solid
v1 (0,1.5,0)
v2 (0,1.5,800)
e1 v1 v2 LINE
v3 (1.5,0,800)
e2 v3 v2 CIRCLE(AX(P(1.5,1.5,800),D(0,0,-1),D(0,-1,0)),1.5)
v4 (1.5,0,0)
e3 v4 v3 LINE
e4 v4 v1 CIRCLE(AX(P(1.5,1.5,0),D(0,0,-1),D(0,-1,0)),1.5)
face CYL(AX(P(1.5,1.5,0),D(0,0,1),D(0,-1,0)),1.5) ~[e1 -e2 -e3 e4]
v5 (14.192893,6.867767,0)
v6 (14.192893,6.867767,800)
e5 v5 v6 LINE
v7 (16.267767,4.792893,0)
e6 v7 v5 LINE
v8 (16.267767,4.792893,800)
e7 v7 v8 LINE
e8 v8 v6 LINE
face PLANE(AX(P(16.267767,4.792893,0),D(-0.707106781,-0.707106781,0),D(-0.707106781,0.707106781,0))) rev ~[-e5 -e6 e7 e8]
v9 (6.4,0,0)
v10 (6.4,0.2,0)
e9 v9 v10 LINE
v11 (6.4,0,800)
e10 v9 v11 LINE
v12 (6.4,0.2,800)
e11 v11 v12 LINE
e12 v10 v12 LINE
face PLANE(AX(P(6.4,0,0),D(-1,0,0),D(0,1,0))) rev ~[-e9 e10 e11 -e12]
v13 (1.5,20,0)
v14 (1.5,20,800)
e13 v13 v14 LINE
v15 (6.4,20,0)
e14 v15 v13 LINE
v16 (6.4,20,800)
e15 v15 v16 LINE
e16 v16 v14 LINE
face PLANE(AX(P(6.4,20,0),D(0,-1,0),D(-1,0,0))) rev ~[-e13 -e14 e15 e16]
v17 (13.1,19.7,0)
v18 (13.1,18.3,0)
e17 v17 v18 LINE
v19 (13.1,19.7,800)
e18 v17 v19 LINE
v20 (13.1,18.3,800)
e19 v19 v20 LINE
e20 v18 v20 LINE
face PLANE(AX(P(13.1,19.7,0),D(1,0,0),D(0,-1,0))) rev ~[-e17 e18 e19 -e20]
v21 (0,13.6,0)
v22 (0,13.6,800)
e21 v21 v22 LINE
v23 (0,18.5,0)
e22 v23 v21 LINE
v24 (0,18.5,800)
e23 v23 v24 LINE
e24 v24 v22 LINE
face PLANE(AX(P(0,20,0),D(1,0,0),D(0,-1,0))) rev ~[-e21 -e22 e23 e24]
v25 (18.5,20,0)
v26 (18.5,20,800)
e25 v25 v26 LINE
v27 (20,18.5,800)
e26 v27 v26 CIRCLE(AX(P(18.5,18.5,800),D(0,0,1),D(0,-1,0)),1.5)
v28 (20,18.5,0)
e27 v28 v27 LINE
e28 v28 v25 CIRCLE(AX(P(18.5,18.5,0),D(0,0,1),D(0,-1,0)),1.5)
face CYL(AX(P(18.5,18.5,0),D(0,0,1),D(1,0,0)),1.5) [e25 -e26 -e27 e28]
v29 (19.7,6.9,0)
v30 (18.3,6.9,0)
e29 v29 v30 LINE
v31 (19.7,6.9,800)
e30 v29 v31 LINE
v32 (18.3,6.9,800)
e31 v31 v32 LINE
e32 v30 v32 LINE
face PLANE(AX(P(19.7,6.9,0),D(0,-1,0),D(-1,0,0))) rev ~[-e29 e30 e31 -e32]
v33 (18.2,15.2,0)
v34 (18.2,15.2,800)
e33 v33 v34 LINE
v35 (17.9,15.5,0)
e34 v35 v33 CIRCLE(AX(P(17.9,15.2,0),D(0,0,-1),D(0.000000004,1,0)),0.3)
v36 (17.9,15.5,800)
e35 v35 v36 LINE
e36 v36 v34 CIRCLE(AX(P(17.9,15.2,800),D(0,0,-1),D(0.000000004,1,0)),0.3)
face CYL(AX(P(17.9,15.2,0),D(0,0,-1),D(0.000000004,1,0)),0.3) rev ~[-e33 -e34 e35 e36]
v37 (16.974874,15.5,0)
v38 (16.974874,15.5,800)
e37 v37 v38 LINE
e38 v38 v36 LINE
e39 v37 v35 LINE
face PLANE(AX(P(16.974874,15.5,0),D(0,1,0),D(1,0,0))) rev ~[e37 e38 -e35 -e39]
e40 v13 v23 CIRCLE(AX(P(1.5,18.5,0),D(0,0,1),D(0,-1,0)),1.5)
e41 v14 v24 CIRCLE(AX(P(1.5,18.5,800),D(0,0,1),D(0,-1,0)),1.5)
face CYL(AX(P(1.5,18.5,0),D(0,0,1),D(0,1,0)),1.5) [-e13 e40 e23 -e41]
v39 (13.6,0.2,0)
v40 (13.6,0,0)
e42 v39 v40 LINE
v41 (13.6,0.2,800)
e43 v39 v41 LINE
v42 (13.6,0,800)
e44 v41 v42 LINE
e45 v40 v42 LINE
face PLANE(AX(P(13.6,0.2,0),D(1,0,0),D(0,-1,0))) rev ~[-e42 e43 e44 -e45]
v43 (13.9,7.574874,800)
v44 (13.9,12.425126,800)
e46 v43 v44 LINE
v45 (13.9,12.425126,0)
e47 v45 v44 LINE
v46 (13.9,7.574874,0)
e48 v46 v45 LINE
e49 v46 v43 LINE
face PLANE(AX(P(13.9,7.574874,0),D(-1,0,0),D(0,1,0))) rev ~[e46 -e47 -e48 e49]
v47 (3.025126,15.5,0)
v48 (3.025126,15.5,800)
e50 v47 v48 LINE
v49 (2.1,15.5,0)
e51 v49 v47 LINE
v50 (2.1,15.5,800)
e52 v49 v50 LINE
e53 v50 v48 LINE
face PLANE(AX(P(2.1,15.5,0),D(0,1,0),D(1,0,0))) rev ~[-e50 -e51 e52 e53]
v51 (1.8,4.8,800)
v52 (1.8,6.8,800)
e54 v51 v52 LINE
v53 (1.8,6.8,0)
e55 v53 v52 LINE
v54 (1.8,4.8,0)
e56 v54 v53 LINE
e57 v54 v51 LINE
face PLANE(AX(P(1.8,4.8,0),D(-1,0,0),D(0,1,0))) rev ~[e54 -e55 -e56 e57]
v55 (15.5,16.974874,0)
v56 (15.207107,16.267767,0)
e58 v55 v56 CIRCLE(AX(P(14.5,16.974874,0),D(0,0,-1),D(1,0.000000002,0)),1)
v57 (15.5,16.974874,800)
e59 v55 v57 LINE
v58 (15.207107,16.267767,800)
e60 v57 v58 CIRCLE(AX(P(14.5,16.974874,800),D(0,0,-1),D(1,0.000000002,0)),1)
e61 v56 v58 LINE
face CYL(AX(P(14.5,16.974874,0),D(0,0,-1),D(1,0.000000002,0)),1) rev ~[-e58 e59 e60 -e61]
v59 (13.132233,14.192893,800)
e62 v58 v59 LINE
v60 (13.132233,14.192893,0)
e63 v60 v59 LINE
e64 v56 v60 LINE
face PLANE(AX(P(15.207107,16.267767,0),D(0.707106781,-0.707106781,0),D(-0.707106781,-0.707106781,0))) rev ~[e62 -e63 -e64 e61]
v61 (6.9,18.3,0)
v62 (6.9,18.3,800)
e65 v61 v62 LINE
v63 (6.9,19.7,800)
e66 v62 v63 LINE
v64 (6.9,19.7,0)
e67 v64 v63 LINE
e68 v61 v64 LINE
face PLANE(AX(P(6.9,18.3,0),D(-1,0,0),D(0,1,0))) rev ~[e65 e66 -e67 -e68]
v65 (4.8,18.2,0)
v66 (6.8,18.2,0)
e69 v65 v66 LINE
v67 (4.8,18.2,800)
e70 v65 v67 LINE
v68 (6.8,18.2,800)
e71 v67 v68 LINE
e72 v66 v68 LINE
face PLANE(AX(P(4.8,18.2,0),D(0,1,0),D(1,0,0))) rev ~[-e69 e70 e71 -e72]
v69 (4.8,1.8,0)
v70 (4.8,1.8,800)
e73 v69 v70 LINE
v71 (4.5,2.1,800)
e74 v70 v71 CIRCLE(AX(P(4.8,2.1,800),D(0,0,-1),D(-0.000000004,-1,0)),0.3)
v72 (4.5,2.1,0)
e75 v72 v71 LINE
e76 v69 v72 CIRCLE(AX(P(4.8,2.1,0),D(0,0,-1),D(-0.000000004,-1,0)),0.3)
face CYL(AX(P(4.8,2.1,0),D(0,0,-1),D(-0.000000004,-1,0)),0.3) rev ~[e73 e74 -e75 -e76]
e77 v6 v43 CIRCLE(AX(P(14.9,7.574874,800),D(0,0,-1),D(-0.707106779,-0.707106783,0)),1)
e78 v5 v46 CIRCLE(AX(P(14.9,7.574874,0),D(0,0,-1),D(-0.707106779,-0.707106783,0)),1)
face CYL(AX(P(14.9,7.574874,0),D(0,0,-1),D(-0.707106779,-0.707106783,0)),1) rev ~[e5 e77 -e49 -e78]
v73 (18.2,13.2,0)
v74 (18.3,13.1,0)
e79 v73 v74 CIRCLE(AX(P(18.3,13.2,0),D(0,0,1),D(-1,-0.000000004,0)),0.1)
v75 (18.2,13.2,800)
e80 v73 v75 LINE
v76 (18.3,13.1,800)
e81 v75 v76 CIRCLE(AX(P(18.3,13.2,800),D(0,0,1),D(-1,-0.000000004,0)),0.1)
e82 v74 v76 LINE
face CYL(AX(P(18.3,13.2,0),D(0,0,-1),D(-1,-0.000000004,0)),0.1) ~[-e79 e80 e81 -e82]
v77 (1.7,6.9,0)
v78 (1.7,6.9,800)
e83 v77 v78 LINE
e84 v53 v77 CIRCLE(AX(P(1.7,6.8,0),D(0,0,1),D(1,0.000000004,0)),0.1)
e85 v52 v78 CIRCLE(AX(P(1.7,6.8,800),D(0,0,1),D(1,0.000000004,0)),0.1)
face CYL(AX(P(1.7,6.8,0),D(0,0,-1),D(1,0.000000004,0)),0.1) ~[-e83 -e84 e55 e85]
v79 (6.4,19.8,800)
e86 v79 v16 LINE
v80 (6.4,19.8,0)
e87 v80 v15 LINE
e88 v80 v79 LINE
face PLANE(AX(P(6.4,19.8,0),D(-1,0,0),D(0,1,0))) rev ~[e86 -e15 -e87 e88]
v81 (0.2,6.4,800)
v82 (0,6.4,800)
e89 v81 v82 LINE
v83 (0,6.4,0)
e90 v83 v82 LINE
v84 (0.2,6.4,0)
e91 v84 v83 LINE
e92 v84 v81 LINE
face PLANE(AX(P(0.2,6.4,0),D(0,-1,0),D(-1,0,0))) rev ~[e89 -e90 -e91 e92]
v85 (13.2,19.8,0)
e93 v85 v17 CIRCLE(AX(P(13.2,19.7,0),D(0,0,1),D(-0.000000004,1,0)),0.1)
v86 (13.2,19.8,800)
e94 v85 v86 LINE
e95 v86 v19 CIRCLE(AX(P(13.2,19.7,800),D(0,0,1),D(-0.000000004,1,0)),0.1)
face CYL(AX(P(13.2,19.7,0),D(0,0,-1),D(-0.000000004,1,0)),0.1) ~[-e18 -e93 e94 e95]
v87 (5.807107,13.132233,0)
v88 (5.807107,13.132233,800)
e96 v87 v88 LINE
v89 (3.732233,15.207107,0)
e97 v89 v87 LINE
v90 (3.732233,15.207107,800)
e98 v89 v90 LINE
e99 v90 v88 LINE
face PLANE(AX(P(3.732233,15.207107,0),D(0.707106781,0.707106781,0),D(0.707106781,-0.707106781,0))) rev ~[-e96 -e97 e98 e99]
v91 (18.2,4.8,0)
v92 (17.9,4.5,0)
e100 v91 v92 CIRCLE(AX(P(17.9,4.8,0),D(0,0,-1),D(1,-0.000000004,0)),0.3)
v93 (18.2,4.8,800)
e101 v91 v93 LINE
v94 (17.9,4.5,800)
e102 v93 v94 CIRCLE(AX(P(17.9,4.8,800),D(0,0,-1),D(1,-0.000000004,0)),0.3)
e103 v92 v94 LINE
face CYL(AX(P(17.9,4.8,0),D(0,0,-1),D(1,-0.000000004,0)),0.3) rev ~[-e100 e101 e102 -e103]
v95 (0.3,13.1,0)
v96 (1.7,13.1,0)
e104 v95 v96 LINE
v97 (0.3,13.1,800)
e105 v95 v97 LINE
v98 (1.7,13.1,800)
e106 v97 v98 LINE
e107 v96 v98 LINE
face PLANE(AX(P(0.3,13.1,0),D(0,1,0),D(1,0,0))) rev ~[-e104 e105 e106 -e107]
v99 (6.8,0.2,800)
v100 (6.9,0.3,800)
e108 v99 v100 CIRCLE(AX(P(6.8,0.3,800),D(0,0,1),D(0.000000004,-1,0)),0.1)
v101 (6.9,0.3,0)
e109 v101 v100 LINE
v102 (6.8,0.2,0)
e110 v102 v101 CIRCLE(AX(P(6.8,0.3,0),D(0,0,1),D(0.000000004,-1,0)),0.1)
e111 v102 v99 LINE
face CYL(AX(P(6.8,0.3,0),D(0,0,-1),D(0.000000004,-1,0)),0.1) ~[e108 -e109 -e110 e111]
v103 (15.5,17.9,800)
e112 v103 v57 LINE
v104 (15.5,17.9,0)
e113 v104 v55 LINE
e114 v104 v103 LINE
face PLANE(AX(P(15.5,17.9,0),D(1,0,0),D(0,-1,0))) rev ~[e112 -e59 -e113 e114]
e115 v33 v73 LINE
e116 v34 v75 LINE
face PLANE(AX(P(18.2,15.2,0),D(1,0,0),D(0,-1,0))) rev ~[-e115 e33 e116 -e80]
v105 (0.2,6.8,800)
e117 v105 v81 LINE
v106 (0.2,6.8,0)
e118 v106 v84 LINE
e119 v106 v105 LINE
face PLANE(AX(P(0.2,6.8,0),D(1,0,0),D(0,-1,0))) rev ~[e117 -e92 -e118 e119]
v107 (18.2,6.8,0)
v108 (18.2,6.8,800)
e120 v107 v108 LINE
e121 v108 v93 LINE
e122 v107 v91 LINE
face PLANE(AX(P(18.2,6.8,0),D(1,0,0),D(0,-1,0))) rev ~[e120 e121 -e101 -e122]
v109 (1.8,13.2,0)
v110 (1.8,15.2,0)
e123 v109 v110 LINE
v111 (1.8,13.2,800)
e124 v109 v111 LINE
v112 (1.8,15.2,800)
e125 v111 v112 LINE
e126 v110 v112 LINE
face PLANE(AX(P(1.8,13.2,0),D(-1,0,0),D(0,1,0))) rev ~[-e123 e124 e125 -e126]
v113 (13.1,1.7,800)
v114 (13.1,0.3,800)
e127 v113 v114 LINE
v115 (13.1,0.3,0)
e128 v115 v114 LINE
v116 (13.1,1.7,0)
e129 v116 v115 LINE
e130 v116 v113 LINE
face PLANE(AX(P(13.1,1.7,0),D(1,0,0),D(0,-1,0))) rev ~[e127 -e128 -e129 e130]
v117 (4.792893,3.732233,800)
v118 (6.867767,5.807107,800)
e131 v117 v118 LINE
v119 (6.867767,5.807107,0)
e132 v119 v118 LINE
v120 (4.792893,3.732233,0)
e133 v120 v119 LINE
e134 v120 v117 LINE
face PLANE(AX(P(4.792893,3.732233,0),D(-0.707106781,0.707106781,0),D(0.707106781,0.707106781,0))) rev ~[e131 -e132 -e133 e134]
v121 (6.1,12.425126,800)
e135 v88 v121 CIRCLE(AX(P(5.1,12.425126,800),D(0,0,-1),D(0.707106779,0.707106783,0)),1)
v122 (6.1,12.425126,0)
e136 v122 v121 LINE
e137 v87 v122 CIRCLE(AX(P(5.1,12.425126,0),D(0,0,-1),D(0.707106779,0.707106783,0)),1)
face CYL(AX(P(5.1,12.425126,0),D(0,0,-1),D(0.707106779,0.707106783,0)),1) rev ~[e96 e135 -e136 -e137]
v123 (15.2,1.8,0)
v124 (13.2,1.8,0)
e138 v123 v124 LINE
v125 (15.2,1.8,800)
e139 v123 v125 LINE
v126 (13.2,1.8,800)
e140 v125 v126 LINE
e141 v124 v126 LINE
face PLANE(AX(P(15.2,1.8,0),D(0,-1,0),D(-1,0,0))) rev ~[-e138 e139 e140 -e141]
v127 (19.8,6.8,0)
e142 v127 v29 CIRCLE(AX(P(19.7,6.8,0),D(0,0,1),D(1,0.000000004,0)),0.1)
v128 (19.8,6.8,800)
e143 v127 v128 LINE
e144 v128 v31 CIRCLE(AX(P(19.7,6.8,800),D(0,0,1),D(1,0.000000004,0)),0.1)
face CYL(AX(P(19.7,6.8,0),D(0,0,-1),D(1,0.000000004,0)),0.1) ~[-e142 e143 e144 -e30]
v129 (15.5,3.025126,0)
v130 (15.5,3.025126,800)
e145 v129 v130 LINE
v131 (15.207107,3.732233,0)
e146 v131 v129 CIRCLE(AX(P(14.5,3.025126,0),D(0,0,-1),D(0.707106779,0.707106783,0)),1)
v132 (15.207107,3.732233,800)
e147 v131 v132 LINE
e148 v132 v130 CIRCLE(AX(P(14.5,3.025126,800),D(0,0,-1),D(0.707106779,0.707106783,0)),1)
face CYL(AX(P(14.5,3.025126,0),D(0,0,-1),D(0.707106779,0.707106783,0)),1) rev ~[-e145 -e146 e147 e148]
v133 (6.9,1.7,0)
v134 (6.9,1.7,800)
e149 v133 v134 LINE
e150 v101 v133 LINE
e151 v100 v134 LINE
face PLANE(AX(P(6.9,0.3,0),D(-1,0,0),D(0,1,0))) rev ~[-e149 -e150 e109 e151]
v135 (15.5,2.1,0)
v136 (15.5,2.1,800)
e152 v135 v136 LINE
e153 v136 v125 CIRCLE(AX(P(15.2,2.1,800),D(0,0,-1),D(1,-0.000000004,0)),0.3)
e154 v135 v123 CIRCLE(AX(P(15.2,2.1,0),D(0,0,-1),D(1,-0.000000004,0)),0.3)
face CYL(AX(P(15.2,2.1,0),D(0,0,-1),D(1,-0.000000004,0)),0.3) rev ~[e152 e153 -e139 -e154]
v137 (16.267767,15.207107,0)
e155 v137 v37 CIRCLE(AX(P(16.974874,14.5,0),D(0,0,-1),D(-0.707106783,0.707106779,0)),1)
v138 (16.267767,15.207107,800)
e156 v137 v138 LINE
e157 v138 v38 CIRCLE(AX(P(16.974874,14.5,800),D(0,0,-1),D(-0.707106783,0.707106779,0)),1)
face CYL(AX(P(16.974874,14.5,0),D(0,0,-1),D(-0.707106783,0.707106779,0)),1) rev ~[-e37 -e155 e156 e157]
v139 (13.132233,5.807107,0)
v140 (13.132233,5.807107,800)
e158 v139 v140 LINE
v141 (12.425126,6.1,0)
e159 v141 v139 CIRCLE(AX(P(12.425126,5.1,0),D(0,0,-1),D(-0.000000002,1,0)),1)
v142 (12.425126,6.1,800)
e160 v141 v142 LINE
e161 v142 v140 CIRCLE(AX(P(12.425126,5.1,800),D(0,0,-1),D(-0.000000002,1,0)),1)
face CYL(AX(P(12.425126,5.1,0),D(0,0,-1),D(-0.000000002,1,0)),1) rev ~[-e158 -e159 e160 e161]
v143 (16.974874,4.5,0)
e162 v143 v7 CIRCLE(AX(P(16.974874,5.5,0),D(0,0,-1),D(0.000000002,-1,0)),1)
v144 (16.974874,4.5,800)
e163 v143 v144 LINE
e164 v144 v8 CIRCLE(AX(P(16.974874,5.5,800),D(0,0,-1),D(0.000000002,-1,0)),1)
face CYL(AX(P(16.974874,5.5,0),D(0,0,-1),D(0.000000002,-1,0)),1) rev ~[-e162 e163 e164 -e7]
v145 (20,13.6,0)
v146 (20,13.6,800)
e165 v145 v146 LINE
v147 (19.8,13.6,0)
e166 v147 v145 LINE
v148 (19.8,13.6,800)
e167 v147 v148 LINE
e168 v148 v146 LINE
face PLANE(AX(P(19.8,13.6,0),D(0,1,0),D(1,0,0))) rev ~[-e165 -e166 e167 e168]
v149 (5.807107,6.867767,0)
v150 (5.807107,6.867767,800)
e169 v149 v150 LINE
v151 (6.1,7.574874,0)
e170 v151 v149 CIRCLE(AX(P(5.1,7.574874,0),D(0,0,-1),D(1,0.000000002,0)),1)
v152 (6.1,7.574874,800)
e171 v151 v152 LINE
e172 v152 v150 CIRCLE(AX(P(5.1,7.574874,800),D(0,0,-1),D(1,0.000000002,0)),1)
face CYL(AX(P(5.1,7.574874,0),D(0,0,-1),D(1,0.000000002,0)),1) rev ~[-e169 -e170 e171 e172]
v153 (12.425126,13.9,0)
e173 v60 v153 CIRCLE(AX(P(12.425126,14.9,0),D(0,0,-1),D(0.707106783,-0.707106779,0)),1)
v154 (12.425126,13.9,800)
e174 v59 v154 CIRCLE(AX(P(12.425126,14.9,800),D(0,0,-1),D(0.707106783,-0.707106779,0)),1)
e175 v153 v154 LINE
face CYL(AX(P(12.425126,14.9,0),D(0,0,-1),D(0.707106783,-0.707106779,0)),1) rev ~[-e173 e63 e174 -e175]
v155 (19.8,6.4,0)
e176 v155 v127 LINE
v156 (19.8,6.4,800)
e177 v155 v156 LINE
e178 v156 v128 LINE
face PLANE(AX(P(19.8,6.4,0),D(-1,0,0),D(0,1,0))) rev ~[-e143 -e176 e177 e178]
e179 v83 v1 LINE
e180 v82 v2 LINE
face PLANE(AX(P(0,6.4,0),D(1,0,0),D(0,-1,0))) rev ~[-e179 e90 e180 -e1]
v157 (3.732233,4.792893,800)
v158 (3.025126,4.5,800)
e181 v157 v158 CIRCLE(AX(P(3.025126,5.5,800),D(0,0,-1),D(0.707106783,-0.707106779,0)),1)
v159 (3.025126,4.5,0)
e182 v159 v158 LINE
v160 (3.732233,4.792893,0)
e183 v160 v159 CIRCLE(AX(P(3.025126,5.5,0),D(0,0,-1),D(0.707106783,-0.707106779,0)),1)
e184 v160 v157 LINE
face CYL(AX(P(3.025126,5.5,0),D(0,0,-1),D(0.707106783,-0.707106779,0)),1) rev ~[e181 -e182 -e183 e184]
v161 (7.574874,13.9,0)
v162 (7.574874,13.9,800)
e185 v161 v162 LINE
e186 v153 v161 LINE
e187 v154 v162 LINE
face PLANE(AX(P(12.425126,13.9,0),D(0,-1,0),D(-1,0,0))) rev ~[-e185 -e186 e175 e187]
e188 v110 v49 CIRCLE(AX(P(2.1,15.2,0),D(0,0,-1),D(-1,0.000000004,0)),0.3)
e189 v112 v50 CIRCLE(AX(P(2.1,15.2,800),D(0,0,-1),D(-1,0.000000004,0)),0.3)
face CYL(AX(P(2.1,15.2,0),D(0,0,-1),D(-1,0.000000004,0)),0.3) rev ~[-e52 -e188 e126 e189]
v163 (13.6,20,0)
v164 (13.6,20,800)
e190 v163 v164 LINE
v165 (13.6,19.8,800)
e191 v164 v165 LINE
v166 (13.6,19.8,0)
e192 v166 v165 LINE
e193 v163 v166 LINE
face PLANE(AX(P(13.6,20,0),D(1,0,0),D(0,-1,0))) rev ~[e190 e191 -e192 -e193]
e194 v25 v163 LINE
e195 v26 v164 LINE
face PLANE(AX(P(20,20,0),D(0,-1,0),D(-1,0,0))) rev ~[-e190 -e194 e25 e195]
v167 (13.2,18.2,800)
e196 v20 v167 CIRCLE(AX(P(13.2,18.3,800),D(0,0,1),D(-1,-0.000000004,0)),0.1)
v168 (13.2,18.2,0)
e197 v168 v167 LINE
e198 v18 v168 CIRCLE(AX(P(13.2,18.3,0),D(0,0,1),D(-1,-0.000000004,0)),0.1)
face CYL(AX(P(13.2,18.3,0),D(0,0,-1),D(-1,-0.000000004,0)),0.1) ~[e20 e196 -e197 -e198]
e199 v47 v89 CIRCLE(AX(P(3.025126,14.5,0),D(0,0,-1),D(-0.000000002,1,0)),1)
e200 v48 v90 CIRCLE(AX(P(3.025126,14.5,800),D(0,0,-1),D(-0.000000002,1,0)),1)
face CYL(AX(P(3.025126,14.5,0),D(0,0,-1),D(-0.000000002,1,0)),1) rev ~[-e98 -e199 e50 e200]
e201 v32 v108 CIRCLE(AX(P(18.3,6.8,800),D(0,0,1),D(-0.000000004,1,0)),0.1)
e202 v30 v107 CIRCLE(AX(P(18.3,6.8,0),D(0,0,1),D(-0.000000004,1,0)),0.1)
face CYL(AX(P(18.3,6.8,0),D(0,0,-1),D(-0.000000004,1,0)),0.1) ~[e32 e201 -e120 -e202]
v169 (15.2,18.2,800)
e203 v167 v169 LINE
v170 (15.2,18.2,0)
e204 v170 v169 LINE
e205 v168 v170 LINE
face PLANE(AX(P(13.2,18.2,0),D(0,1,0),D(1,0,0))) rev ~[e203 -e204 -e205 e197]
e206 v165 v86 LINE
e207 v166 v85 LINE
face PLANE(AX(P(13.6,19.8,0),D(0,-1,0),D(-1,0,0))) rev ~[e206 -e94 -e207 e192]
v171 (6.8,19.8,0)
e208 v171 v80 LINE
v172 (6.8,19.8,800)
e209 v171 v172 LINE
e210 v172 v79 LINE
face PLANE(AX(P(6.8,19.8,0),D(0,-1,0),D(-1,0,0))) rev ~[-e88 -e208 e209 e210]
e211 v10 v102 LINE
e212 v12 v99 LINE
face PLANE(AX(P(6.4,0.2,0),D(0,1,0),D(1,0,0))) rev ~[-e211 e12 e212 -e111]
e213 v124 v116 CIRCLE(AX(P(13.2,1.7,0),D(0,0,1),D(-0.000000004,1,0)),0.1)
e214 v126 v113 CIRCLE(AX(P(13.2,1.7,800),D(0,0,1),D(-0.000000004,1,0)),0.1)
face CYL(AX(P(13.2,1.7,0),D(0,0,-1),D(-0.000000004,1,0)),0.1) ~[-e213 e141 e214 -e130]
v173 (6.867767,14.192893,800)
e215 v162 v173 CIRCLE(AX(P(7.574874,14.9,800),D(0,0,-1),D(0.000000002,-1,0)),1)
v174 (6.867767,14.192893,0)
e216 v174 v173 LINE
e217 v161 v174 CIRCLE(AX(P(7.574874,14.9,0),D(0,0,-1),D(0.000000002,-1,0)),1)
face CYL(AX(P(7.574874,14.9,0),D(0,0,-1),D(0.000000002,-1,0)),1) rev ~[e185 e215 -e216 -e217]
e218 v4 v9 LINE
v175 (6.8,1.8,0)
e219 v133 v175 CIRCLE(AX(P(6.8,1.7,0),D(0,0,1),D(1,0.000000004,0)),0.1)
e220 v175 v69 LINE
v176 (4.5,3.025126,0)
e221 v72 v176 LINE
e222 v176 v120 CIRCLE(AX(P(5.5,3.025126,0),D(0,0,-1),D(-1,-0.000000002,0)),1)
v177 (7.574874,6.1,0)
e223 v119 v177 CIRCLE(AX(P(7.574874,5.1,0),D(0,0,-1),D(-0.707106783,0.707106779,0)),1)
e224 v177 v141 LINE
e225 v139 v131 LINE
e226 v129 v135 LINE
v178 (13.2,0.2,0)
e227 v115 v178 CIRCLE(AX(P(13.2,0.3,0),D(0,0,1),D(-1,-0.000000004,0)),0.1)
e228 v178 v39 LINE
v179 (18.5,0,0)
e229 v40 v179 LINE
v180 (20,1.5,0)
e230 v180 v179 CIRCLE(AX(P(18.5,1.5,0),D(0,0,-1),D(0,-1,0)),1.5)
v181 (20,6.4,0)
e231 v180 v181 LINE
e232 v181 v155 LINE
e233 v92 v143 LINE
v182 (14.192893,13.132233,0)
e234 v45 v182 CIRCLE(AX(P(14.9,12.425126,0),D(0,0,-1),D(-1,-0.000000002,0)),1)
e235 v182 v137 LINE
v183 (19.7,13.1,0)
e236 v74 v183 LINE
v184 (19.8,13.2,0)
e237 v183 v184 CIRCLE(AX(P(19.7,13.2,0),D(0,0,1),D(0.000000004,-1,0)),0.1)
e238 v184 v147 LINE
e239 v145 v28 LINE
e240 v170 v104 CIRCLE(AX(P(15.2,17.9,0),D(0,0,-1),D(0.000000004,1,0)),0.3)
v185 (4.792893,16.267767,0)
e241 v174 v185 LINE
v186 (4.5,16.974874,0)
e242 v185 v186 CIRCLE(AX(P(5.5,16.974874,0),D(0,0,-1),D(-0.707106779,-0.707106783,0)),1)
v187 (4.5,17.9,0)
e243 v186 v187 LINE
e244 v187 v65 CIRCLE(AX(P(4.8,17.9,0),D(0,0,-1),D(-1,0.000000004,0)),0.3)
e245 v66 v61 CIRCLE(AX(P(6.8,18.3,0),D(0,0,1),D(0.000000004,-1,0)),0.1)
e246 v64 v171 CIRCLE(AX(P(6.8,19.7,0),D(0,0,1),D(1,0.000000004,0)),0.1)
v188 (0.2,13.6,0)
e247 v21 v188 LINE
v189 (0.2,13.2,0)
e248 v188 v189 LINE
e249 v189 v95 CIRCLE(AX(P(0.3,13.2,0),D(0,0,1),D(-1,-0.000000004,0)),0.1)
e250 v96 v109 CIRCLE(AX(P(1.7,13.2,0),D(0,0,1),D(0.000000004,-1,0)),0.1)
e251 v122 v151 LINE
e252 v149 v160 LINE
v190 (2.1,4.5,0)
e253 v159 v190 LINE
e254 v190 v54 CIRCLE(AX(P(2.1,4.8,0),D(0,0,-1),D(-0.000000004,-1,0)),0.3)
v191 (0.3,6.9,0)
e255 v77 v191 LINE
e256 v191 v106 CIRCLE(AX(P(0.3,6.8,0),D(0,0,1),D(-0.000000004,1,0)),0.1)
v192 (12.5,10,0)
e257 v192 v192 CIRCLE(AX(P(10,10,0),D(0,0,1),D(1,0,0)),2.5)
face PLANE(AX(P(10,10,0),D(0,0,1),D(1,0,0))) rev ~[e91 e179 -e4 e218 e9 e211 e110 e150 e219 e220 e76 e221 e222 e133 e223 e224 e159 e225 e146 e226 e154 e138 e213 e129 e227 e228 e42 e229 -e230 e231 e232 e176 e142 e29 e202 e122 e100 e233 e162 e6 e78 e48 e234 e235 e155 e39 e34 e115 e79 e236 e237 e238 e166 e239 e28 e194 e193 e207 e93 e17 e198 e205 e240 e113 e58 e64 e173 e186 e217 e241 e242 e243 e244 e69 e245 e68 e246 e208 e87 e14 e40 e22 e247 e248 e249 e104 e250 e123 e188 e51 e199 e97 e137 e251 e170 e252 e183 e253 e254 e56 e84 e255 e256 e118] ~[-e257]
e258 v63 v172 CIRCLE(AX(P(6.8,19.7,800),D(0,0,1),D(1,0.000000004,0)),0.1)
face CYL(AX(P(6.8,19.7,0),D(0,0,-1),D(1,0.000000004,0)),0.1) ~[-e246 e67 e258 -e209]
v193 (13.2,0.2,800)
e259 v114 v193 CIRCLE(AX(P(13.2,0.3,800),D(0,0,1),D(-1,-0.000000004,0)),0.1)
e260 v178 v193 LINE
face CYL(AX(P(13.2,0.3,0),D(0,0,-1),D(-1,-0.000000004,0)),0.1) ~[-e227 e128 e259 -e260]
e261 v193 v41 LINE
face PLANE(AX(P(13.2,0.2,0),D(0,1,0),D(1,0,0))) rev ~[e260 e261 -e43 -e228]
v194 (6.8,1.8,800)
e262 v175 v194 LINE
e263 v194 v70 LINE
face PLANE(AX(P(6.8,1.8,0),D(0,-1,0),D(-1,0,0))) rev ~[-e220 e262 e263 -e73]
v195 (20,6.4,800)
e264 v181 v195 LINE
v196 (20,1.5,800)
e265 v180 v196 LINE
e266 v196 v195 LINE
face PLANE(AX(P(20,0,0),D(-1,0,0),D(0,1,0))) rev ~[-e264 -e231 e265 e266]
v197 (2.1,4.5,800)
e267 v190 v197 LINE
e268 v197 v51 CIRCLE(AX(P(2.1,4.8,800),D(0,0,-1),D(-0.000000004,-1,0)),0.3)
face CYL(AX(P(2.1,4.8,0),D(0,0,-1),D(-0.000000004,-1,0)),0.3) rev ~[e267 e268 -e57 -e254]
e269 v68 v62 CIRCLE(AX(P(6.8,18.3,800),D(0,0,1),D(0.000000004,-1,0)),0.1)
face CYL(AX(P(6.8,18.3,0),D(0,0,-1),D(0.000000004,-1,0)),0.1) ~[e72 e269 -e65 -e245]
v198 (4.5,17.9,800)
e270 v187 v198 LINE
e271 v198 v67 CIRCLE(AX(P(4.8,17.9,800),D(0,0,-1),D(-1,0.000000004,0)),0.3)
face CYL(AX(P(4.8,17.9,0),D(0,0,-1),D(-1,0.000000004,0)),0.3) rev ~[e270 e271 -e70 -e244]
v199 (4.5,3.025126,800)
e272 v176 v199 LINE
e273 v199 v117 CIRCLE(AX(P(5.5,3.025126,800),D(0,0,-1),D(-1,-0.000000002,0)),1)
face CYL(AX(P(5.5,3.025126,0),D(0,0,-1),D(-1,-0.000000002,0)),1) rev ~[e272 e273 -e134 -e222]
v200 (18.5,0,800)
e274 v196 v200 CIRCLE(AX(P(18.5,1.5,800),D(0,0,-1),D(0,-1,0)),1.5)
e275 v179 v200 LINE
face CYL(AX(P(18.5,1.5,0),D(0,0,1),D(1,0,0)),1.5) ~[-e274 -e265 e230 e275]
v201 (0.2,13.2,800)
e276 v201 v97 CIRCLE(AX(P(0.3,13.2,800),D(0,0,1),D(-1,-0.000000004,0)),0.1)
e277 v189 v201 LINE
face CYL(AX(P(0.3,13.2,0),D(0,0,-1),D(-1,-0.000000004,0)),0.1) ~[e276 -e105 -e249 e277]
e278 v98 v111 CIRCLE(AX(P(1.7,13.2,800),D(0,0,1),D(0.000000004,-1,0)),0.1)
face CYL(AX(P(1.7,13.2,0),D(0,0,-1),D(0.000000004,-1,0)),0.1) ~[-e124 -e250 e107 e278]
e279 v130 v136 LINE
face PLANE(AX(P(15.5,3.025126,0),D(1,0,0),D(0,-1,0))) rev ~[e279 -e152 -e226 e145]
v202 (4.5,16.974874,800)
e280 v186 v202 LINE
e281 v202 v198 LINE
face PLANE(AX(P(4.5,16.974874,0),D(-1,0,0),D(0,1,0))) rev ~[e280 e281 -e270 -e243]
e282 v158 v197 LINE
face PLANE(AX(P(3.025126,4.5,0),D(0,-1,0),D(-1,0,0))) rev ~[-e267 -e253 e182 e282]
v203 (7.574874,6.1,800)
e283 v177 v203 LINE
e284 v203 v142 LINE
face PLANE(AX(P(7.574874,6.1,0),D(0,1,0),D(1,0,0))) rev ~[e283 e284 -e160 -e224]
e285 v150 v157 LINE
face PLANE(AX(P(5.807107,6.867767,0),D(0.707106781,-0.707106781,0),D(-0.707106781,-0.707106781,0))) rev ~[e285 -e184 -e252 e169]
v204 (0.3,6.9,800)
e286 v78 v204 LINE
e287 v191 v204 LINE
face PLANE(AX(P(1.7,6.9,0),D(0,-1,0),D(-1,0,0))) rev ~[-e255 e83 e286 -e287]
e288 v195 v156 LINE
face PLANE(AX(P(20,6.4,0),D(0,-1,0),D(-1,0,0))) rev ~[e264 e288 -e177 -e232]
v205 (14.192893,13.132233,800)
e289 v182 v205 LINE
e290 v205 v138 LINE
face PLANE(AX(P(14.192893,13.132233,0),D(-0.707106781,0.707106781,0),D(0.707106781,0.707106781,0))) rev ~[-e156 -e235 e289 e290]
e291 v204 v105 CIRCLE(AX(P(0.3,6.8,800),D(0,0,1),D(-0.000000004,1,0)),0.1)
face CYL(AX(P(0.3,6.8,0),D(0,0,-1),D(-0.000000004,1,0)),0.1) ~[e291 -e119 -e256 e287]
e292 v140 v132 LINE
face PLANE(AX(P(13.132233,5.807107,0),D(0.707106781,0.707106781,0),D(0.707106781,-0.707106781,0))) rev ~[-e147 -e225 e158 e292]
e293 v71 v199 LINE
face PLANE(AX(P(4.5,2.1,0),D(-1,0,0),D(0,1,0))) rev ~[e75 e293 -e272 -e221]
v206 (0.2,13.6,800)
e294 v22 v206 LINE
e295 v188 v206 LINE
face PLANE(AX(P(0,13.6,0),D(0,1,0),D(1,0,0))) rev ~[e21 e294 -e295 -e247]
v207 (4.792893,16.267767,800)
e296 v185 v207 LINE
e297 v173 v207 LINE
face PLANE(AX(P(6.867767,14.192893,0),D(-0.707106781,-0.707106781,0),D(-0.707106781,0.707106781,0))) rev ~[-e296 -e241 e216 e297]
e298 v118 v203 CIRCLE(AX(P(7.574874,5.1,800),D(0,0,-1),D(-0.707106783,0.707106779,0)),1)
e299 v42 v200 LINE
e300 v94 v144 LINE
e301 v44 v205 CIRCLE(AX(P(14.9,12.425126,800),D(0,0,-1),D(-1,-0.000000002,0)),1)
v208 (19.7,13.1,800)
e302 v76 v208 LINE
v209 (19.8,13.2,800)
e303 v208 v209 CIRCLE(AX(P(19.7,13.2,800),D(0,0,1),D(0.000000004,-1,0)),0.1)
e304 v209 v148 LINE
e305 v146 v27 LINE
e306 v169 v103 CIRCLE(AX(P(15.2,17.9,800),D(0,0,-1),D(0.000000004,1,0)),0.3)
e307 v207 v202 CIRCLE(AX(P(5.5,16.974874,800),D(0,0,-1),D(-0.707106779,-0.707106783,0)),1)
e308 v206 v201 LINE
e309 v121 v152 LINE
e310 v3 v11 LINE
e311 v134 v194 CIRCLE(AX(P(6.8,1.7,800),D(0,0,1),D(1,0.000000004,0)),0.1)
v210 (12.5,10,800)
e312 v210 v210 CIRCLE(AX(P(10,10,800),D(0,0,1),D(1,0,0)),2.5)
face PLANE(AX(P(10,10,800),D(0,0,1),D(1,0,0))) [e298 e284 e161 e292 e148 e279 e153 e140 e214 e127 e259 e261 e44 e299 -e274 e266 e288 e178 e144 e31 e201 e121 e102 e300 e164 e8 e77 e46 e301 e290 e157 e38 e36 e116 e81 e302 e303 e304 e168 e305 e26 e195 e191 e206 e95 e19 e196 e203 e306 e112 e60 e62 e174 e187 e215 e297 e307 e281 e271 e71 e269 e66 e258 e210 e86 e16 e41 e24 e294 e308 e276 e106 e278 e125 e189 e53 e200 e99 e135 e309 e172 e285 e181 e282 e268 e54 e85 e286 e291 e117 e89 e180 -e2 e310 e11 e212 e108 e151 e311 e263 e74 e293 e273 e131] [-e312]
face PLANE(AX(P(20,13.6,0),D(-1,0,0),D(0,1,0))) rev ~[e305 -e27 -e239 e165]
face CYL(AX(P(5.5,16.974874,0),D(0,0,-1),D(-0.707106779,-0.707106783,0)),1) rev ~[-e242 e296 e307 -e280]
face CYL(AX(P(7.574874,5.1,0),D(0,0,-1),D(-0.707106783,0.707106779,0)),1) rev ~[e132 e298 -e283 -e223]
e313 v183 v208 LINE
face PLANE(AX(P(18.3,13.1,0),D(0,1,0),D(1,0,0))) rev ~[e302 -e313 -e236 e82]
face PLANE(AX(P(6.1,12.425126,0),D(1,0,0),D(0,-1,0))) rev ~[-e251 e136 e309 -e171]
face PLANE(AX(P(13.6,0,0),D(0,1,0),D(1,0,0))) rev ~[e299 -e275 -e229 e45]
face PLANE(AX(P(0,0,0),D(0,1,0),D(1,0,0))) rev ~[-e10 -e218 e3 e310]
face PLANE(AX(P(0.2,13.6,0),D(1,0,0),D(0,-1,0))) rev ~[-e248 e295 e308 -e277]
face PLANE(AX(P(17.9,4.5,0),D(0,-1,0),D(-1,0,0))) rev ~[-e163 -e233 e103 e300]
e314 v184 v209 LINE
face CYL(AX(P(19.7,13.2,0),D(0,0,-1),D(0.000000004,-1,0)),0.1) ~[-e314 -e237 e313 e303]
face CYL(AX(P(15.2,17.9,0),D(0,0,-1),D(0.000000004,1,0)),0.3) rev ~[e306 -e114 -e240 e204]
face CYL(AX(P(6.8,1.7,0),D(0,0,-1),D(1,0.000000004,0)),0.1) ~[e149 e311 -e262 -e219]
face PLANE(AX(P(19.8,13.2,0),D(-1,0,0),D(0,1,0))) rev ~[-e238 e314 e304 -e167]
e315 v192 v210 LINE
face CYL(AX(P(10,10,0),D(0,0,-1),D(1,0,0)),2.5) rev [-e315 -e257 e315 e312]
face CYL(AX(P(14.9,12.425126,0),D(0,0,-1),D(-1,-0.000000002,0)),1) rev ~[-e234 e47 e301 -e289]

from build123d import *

# Parameters (mm, degrees)
SKETCH_1_R      = 2.5
EXTRUDE_1_DEPTH = 800
FILLET_1_R      = 1.5


with BuildPart() as part:
    # 草图1 → 凸台-拉伸1 (new body)
    with BuildSketch(Plane.XY):
        with BuildLine():
            Line((20, 13.6), (20, 20))
            Line((20, 20), (13.6, 20))
            Line((13.6, 20), (13.6, 19.8))
            Line((13.6, 19.8), (13.2, 19.8))
            ThreePointArc((13.2, 19.8), (13.129289322, 19.770710678), (13.1, 19.7))
            Line((13.1, 19.7), (13.1, 18.3))
            ThreePointArc((13.1, 18.3), (13.129289322, 18.229289322), (13.2, 18.2))
            Line((13.2, 18.2), (15.2, 18.2))
            ThreePointArc((15.2, 18.2), (15.412132034, 18.112132034), (15.5, 17.9))
            Line((15.5, 17.9), (15.5, 16.974873734))
            ThreePointArc((15.5, 16.974873734), (15.423879533, 16.592190302), (15.207106781, 16.267766953))
            Line((15.207106781, 16.267766953), (13.132233047, 14.192893219))
            ThreePointArc((13.132233047, 14.192893219), (12.807809698, 13.976120467), (12.425126266, 13.9))
            Line((12.425126266, 13.9), (7.574873734, 13.9))
            ThreePointArc((7.574873734, 13.9), (7.192190302, 13.976120467), (6.867766953, 14.192893219))
            Line((6.867766953, 14.192893219), (4.792893219, 16.267766953))
            ThreePointArc((4.792893219, 16.267766953), (4.576120467, 16.592190302), (4.5, 16.974873734))
            Line((4.5, 16.974873734), (4.5, 17.9))
            ThreePointArc((4.5, 17.9), (4.587867966, 18.112132034), (4.8, 18.2))
            Line((4.8, 18.2), (6.8, 18.2))
            ThreePointArc((6.8, 18.2), (6.870710678, 18.229289322), (6.9, 18.3))
            Line((6.9, 18.3), (6.9, 19.7))
            ThreePointArc((6.9, 19.7), (6.870710678, 19.770710678), (6.8, 19.8))
            Line((6.8, 19.8), (6.4, 19.8))
            Line((6.4, 19.8), (6.4, 20))
            Line((6.4, 20), (0, 20))
            Line((0, 20), (0, 13.6))
            Line((0, 13.6), (0.2, 13.6))
            Line((0.2, 13.6), (0.2, 13.2))
            ThreePointArc((0.2, 13.2), (0.229289322, 13.129289322), (0.3, 13.1))
            Line((0.3, 13.1), (1.7, 13.1))
            ThreePointArc((1.7, 13.1), (1.770710678, 13.129289322), (1.8, 13.2))
            Line((1.8, 13.2), (1.8, 15.2))
            ThreePointArc((1.8, 15.2), (1.887867966, 15.412132034), (2.1, 15.5))
            Line((2.1, 15.5), (3.025126266, 15.5))
            ThreePointArc((3.025126266, 15.5), (3.407809698, 15.423879533), (3.732233047, 15.207106781))
            Line((3.732233047, 15.207106781), (5.807106781, 13.132233047))
            ThreePointArc((5.807106781, 13.132233047), (6.023879533, 12.807809698), (6.1, 12.425126266))
            Line((6.1, 12.425126266), (6.1, 7.574873734))
            ThreePointArc((6.1, 7.574873734), (6.023879533, 7.192190302), (5.807106781, 6.867766953))
            Line((5.807106781, 6.867766953), (3.732233047, 4.792893219))
            ThreePointArc((3.732233047, 4.792893219), (3.407809698, 4.576120467), (3.025126266, 4.5))
            Line((3.025126266, 4.5), (2.1, 4.5))
            ThreePointArc((2.1, 4.5), (1.887867966, 4.587867966), (1.8, 4.8))
            Line((1.8, 4.8), (1.8, 6.8))
            ThreePointArc((1.8, 6.8), (1.770710678, 6.870710678), (1.7, 6.9))
            Line((1.7, 6.9), (0.3, 6.9))
            ThreePointArc((0.3, 6.9), (0.229289322, 6.870710678), (0.2, 6.8))
            Line((0.2, 6.8), (0.2, 6.4))
            Line((0.2, 6.4), (0, 6.4))
            Line((0, 6.4), (0, 0))
            Line((0, 0), (6.4, 0))
            Line((6.4, 0), (6.4, 0.2))
            Line((6.4, 0.2), (6.8, 0.2))
            ThreePointArc((6.8, 0.2), (6.870710678, 0.229289322), (6.9, 0.3))
            Line((6.9, 0.3), (6.9, 1.7))
            ThreePointArc((6.9, 1.7), (6.870710678, 1.770710678), (6.8, 1.8))
            Line((6.8, 1.8), (4.8, 1.8))
            ThreePointArc((4.8, 1.8), (4.587867966, 1.887867966), (4.5, 2.1))
            Line((4.5, 2.1), (4.5, 3.025126266))
            ThreePointArc((4.5, 3.025126266), (4.576120467, 3.407809698), (4.792893219, 3.732233047))
            Line((4.792893219, 3.732233047), (6.867766953, 5.807106781))
            ThreePointArc((6.867766953, 5.807106781), (7.192190302, 6.023879533), (7.574873734, 6.1))
            Line((7.574873734, 6.1), (12.425126266, 6.1))
            ThreePointArc((12.425126266, 6.1), (12.807809698, 6.023879533), (13.132233047, 5.807106781))
            Line((13.132233047, 5.807106781), (15.207106781, 3.732233047))
            ThreePointArc((15.207106781, 3.732233047), (15.423879533, 3.407809698), (15.5, 3.025126266))
            Line((15.5, 3.025126266), (15.5, 2.1))
            ThreePointArc((15.5, 2.1), (15.412132034, 1.887867966), (15.2, 1.8))
            Line((15.2, 1.8), (13.2, 1.8))
            ThreePointArc((13.2, 1.8), (13.129289322, 1.770710678), (13.1, 1.7))
            Line((13.1, 1.7), (13.1, 0.3))
            ThreePointArc((13.1, 0.3), (13.129289322, 0.229289322), (13.2, 0.2))
            Line((13.2, 0.2), (13.6, 0.2))
            Line((13.6, 0.2), (13.6, 0))
            Line((13.6, 0), (20, 0))
            Line((20, 0), (20, 6.4))
            Line((20, 6.4), (19.8, 6.4))
            Line((19.8, 6.4), (19.8, 6.8))
            ThreePointArc((19.8, 6.8), (19.770710678, 6.870710678), (19.7, 6.9))
            Line((19.7, 6.9), (18.3, 6.9))
            ThreePointArc((18.3, 6.9), (18.229289322, 6.870710678), (18.2, 6.8))
            Line((18.2, 6.8), (18.2, 4.8))
            ThreePointArc((18.2, 4.8), (18.112132034, 4.587867966), (17.9, 4.5))
            Line((17.9, 4.5), (16.974873734, 4.5))
            ThreePointArc((16.974873734, 4.5), (16.592190302, 4.576120467), (16.267766953, 4.792893219))
            Line((16.267766953, 4.792893219), (14.192893219, 6.867766953))
            ThreePointArc((14.192893219, 6.867766953), (13.976120467, 7.192190302), (13.9, 7.574873734))
            Line((13.9, 7.574873734), (13.9, 12.425126266))
            ThreePointArc((13.9, 12.425126266), (13.976120467, 12.807809698), (14.192893219, 13.132233047))
            Line((14.192893219, 13.132233047), (16.267766953, 15.207106781))
            ThreePointArc((16.267766953, 15.207106781), (16.592190302, 15.423879533), (16.974873734, 15.5))
            Line((16.974873734, 15.5), (17.9, 15.5))
            ThreePointArc((17.9, 15.5), (18.112132034, 15.412132034), (18.2, 15.2))
            Line((18.2, 15.2), (18.2, 13.2))
            ThreePointArc((18.2, 13.2), (18.229289322, 13.129289322), (18.3, 13.1))
            Line((18.3, 13.1), (19.7, 13.1))
            ThreePointArc((19.7, 13.1), (19.770710678, 13.129289322), (19.8, 13.2))
            Line((19.8, 13.2), (19.8, 13.6))
            Line((19.8, 13.6), (20, 13.6))
        make_face()
        with Locations((10, 10)):
            Circle(SKETCH_1_R, mode=Mode.SUBTRACT)
    extrude(amount=EXTRUDE_1_DEPTH)

    # 圆角1
    fillet_1_edges = [part.edges().sort_by_distance(p)[0] for p in [
        (0, 0, 400),
        (0, 20, 400),
        (20, 20, 400),
        (20, 0, 400),
    ]]
    fillet(fillet_1_edges, radius=FILLET_1_R)


solid = part.part
